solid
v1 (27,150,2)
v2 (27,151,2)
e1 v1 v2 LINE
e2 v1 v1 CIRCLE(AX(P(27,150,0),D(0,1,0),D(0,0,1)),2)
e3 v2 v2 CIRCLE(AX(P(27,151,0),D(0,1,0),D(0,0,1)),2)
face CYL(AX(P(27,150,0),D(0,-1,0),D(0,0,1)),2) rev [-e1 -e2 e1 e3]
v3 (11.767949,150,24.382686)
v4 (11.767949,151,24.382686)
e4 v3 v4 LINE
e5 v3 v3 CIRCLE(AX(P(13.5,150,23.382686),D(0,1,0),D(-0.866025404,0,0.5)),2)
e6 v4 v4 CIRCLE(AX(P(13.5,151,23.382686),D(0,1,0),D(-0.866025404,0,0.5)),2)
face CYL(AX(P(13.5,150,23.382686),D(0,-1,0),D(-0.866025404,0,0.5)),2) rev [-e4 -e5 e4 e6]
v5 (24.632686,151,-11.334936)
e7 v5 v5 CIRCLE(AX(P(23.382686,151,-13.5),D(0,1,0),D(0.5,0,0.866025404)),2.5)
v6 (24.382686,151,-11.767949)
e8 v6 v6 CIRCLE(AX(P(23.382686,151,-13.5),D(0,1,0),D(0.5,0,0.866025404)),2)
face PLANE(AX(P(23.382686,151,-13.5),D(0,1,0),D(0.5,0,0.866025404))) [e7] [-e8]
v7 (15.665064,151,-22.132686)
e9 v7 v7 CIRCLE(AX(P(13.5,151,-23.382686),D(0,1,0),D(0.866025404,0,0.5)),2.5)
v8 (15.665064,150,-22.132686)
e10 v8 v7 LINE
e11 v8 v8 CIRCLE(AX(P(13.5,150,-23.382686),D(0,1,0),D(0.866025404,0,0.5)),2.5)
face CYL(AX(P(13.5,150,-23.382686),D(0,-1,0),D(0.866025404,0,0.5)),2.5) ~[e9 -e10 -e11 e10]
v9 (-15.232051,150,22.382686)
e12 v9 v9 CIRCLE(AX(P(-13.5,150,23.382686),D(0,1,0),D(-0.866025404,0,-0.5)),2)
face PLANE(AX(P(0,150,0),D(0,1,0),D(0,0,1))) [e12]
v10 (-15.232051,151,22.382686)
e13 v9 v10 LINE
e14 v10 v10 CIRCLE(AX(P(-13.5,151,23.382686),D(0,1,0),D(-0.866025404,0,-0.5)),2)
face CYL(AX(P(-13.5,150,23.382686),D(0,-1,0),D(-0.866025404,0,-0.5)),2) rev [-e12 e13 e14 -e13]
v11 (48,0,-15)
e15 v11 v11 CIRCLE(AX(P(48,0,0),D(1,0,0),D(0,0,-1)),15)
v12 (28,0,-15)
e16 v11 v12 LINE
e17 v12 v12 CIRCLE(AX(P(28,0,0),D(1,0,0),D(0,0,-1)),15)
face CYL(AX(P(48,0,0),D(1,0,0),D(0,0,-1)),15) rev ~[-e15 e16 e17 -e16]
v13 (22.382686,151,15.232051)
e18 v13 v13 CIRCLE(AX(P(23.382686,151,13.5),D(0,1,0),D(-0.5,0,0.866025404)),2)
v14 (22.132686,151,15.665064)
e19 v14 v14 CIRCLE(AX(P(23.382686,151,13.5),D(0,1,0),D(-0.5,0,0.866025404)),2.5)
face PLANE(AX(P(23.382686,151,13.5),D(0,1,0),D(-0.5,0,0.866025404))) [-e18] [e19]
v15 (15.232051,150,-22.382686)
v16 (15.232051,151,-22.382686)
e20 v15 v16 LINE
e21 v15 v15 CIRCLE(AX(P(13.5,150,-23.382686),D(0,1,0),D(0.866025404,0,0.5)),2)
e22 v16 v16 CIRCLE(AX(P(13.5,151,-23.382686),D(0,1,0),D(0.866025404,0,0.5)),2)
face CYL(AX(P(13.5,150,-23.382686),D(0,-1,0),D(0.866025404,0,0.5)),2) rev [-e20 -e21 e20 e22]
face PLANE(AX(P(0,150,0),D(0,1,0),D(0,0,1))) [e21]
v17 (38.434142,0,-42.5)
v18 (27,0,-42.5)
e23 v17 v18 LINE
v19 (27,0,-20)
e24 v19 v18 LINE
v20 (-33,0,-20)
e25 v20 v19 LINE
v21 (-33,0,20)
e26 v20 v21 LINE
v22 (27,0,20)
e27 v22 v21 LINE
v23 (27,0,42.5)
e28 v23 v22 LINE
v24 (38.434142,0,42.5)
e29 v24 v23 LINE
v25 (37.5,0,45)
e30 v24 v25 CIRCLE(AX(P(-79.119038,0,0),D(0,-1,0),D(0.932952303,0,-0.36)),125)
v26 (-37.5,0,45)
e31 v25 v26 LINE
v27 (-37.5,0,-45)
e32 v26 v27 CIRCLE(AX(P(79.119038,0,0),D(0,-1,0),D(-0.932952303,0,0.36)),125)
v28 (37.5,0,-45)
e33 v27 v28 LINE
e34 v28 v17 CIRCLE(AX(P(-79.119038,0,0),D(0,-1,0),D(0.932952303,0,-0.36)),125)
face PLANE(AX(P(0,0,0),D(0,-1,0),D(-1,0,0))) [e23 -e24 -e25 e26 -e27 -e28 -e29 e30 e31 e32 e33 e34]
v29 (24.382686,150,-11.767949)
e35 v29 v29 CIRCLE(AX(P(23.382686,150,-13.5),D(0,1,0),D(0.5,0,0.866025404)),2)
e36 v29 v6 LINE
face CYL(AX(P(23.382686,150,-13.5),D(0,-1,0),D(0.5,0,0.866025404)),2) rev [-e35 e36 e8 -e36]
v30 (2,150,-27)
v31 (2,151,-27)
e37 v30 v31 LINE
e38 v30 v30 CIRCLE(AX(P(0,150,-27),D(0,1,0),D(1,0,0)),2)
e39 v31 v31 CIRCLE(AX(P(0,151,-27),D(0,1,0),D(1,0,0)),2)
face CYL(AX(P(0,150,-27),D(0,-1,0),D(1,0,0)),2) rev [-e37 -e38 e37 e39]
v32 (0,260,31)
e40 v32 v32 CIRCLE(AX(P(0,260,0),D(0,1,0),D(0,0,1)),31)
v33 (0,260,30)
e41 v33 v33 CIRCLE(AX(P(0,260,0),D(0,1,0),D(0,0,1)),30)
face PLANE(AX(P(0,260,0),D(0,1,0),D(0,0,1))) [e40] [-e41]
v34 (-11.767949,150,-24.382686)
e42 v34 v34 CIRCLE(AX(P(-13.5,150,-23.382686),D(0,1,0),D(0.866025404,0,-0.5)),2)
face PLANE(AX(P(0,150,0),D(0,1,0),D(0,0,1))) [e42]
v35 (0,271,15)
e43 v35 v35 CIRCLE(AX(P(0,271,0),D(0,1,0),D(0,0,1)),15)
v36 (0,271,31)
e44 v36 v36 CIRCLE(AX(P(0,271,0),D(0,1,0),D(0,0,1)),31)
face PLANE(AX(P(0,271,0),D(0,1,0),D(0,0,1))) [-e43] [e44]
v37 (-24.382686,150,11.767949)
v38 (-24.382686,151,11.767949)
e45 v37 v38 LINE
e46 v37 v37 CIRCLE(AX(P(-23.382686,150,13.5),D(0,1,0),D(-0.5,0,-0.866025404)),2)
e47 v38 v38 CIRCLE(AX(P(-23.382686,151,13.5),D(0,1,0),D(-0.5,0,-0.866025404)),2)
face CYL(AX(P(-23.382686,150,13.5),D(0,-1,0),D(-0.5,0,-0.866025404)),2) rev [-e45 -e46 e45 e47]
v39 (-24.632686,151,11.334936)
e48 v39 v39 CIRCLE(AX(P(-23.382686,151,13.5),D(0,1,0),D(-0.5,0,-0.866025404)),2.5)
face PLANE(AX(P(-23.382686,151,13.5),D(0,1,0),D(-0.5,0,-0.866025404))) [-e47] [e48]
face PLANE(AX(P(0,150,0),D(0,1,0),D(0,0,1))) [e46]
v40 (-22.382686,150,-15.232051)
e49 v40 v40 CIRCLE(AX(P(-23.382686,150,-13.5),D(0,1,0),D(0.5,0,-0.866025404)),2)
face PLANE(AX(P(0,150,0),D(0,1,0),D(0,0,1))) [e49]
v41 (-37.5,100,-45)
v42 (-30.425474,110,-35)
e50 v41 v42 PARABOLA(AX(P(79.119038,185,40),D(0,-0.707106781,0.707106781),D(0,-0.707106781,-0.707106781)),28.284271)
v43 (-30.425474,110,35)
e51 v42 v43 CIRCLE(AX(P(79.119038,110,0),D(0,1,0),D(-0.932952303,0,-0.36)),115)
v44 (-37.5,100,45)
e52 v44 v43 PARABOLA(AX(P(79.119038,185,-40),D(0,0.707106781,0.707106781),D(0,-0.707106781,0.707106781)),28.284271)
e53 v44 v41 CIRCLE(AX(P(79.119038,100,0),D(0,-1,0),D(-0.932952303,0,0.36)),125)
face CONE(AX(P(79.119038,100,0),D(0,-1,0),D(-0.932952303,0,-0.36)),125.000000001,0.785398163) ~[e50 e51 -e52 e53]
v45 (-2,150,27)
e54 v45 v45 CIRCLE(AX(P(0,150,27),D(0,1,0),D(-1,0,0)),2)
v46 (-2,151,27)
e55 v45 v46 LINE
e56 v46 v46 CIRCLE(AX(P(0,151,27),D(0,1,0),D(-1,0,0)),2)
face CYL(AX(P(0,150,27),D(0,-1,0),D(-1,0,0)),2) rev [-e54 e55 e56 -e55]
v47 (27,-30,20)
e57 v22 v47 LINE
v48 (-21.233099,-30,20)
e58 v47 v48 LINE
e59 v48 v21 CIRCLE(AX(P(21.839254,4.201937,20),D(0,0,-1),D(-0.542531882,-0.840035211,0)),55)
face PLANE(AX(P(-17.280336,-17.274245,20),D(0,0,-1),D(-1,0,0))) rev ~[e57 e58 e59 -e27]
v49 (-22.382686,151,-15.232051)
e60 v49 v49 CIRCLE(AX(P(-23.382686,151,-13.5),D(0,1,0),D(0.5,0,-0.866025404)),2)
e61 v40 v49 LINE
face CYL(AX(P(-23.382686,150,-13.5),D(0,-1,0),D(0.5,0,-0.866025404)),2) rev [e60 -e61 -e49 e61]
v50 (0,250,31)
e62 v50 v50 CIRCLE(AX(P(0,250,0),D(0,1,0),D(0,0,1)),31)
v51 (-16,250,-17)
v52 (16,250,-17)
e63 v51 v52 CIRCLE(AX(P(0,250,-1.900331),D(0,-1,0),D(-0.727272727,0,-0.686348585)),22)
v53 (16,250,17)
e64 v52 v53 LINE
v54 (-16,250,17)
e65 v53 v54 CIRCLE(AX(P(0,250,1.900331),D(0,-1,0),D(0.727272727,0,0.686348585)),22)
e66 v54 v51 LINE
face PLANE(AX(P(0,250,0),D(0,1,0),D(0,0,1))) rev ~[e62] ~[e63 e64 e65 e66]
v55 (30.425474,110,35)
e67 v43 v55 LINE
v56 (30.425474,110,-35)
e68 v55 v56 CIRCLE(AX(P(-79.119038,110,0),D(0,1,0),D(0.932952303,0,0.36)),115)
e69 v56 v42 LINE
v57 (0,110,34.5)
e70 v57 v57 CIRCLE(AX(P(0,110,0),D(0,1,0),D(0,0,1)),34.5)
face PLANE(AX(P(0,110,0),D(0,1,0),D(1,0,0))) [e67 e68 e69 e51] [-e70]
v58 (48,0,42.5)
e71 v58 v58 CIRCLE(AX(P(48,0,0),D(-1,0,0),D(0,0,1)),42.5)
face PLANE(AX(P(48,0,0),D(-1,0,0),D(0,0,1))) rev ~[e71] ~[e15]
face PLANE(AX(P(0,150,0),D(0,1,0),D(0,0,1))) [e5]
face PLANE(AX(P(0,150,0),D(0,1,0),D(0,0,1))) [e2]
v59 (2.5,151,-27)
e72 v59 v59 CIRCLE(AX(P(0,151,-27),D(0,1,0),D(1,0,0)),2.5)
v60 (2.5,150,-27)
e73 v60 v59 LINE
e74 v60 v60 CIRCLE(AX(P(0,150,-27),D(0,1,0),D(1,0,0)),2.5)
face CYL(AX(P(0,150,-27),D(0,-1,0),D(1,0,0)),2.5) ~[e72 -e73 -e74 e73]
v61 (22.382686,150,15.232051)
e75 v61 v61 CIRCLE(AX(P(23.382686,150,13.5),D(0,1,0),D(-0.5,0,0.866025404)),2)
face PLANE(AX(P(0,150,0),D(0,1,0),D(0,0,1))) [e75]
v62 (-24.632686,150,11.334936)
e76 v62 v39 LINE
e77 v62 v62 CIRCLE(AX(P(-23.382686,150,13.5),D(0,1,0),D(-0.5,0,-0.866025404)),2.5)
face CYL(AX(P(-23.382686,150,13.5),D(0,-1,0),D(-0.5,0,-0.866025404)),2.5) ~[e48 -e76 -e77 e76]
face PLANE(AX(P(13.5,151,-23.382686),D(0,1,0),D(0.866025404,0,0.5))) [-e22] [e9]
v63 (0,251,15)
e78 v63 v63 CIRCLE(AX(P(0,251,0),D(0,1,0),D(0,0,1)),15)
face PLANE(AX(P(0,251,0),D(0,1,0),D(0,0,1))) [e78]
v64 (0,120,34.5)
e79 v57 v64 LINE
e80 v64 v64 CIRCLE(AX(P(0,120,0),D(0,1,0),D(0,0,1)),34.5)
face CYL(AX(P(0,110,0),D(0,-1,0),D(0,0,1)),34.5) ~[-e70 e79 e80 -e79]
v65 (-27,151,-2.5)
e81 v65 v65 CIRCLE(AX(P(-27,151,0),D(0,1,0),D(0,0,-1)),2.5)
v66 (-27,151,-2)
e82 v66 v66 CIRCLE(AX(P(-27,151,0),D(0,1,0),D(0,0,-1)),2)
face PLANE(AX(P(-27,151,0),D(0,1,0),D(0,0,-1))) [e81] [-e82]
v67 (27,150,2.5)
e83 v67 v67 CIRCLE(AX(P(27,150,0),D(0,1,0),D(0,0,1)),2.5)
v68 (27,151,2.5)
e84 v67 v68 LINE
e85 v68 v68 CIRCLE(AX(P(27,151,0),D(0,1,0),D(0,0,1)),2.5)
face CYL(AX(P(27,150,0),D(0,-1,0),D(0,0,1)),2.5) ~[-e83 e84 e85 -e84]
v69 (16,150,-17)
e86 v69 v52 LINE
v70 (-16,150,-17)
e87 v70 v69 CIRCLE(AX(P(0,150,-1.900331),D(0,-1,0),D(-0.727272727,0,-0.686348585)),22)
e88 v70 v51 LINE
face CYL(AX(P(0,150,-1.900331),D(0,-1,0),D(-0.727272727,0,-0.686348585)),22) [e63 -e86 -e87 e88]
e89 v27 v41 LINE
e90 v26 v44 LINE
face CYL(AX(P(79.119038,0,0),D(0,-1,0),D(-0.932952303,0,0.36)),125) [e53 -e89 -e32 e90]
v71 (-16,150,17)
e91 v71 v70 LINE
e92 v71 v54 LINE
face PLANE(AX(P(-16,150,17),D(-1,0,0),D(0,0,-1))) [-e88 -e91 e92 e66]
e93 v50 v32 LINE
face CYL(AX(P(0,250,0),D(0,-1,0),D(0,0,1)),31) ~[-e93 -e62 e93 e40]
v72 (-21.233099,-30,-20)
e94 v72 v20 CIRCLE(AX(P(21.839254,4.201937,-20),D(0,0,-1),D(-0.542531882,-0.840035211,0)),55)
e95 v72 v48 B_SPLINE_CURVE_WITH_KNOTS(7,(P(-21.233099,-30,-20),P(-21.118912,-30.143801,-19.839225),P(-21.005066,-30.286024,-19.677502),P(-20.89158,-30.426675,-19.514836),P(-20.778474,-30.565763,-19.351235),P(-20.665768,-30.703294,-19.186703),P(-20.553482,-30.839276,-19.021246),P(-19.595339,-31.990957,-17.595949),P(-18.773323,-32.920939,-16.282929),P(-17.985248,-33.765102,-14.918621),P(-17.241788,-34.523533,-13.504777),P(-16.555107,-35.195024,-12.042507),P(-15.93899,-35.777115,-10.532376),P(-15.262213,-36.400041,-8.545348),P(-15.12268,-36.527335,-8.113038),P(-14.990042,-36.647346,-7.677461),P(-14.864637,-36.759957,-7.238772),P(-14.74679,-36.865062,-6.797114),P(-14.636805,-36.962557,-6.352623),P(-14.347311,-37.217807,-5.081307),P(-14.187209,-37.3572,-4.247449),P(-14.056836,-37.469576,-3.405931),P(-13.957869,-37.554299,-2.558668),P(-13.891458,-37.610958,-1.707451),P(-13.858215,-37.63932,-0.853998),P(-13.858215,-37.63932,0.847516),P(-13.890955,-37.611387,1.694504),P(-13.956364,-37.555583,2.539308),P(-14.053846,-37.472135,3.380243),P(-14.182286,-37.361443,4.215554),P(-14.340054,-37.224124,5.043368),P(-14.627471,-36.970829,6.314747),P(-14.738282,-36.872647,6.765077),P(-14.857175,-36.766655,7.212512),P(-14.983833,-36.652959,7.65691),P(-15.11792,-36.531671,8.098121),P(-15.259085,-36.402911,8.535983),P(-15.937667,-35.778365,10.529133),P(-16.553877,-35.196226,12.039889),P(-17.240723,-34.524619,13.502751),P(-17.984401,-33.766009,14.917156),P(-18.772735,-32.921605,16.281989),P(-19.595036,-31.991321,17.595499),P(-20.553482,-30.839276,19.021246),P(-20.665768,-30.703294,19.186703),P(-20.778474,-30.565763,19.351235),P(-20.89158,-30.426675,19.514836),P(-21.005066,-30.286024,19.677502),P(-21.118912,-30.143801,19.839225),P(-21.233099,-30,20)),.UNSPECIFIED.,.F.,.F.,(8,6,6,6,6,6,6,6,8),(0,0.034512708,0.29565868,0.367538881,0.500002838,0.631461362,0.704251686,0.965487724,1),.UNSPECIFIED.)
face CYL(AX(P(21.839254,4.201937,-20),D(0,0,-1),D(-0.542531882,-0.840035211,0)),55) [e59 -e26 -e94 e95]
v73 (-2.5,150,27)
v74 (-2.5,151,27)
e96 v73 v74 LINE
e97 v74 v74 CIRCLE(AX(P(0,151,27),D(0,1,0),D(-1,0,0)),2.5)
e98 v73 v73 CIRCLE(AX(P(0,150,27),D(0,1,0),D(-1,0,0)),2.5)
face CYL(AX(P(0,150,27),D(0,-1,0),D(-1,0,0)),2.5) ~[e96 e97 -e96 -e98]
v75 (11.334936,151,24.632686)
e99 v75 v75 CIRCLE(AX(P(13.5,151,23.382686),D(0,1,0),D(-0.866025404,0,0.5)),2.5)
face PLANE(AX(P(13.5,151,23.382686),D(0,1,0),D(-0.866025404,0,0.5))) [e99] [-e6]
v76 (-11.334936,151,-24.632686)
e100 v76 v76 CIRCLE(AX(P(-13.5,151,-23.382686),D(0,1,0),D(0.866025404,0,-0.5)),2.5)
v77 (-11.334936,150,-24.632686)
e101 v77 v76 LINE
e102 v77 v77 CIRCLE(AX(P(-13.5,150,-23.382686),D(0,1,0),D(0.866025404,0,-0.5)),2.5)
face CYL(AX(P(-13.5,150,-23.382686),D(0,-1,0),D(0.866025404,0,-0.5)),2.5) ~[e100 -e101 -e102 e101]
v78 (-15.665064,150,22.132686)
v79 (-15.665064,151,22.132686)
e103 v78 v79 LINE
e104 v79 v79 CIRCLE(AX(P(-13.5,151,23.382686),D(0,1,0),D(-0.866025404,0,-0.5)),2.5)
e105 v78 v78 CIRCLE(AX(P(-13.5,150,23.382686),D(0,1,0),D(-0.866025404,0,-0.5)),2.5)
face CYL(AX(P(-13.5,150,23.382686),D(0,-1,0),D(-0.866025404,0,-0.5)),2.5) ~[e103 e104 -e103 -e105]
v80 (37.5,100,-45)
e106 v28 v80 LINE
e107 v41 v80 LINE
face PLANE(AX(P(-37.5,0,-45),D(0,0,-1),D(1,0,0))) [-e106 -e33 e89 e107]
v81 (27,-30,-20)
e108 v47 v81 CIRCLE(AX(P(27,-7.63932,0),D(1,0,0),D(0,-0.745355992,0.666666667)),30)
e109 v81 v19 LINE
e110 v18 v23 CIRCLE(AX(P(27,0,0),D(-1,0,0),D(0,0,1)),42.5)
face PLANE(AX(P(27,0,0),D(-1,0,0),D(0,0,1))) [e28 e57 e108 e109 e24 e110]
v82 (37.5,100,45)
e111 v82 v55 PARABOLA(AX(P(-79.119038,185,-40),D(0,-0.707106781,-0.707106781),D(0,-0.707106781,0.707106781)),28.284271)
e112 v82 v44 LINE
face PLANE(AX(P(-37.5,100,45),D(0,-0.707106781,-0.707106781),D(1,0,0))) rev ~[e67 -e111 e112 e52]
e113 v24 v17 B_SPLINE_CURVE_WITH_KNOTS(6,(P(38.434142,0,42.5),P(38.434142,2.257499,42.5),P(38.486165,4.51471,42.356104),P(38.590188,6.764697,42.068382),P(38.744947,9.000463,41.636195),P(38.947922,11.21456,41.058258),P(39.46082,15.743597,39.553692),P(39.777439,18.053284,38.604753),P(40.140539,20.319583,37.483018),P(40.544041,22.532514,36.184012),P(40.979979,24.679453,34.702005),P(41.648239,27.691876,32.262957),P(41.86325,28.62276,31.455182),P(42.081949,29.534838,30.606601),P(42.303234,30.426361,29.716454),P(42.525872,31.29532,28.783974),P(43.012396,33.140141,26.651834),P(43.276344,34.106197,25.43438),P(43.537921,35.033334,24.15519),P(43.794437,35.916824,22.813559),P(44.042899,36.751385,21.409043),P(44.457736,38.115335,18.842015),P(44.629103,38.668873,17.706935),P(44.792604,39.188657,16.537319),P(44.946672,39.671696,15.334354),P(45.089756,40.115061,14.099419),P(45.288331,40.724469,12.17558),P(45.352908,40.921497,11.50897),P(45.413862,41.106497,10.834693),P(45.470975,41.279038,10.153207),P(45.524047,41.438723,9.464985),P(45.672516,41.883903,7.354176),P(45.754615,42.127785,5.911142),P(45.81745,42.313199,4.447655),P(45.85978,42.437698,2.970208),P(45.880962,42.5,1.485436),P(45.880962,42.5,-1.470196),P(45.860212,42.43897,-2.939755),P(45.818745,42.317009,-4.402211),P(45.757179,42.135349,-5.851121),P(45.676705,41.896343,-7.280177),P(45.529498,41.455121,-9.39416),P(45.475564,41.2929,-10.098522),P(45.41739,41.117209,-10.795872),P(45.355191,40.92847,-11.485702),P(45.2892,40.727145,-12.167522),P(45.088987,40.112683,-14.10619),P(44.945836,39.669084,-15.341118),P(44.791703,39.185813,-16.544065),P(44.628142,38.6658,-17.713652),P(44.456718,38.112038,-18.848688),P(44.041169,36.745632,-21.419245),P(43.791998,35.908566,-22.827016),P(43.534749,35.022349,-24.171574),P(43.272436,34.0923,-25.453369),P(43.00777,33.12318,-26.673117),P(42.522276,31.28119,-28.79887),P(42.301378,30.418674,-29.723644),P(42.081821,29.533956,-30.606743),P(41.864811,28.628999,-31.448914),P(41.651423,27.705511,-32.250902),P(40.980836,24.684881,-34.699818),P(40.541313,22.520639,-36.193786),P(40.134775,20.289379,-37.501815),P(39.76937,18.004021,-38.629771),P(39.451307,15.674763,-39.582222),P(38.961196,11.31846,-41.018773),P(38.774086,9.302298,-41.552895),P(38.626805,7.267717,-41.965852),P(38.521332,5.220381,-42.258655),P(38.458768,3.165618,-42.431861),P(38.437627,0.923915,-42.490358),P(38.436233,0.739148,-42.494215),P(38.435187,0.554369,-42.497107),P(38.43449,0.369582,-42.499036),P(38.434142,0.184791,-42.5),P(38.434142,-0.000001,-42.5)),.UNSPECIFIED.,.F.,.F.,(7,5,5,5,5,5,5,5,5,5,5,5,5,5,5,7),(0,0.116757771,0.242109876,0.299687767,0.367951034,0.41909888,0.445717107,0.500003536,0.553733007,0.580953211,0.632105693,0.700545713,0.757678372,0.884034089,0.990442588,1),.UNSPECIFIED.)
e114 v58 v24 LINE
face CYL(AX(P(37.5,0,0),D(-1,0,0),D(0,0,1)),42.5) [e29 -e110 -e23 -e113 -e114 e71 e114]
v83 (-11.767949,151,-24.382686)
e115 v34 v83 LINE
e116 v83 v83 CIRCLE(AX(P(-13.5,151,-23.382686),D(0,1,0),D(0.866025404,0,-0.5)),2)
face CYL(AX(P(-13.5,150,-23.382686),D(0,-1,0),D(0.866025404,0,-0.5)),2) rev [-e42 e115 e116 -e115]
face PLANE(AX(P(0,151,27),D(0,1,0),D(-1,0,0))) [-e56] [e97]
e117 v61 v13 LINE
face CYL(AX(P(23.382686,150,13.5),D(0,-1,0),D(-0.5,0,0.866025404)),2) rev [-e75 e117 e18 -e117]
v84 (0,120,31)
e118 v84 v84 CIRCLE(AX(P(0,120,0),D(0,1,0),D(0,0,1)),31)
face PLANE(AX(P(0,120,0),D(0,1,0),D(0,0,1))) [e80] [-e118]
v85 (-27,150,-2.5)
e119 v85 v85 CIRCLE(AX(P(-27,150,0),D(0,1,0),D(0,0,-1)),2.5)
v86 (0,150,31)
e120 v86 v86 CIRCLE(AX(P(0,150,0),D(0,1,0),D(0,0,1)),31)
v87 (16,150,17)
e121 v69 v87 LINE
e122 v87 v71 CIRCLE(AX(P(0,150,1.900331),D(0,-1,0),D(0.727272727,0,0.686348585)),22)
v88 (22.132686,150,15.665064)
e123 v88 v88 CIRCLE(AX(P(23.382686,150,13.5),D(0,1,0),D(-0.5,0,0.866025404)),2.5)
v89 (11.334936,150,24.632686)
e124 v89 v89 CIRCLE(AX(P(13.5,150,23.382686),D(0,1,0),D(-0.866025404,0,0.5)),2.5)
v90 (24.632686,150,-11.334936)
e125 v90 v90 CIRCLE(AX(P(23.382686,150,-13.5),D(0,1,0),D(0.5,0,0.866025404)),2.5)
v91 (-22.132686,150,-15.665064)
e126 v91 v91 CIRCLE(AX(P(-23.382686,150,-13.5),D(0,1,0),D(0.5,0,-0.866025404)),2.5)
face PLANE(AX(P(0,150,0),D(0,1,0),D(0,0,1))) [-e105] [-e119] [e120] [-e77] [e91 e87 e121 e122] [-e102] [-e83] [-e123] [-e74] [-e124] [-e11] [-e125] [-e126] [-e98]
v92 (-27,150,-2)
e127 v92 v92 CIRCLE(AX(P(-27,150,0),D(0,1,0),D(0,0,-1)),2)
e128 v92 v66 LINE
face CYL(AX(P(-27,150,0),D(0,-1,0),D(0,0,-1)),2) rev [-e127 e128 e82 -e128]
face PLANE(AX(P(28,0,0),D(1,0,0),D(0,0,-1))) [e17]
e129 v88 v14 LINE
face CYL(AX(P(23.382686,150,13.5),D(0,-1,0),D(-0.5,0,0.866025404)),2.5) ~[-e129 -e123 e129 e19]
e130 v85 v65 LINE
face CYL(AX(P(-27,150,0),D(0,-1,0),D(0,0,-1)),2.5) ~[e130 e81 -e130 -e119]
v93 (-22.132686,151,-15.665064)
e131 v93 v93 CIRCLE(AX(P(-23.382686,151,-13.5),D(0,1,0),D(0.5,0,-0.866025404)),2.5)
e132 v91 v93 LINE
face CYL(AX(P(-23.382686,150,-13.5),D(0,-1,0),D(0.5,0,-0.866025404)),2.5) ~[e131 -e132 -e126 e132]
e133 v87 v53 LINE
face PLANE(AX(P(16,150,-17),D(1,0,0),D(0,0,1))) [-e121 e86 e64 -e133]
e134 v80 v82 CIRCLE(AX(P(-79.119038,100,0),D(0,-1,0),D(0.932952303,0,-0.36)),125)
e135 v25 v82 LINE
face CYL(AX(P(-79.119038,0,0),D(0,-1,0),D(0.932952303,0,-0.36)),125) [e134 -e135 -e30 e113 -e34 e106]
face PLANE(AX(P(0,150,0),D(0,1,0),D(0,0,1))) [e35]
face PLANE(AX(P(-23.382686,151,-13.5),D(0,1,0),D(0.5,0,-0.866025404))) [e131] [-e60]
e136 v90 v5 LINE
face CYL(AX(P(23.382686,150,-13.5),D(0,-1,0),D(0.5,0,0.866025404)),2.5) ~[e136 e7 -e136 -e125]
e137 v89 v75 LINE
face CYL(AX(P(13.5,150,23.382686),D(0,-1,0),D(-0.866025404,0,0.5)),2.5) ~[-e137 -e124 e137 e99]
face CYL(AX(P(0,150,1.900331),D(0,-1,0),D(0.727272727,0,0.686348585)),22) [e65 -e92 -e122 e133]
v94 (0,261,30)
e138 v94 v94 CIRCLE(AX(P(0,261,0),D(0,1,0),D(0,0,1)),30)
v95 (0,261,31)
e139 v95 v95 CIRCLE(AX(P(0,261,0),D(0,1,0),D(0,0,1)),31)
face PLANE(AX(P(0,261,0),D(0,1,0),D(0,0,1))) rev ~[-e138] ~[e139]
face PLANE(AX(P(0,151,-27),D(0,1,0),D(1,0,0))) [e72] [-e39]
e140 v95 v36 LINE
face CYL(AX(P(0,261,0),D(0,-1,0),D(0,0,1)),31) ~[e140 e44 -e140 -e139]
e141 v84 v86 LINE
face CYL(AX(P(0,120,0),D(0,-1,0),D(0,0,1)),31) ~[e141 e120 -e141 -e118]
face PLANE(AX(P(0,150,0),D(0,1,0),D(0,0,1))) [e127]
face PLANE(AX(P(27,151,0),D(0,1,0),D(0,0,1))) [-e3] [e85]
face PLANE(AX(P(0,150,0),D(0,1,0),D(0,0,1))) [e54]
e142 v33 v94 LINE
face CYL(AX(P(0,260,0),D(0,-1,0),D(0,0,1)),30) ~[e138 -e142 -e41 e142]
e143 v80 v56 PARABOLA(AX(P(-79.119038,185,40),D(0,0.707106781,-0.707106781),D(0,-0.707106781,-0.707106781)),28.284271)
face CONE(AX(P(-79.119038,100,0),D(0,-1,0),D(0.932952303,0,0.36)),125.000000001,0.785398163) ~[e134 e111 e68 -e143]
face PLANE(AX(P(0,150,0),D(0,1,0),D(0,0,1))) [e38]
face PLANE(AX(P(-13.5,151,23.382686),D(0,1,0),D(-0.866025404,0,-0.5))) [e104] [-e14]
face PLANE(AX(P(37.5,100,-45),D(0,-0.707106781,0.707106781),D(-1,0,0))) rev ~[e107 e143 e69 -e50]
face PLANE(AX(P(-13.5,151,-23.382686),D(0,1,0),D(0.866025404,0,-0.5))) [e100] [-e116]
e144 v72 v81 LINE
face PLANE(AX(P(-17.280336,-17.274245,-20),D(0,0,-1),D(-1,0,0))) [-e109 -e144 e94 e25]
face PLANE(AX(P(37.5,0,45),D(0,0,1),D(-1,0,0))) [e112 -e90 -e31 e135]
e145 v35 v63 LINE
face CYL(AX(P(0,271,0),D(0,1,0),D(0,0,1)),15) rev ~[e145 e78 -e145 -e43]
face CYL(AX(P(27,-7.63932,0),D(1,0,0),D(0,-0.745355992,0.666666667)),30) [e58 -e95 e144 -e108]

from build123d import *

# Parameters (mm, degrees)
BOSS_EXTRUDE1_DEPTH  = 100
BOSS_EXTRUDE2_DEPTH  = 10
BOSS_EXTRUDE2_DRAFT  = 45
SKETCH3_R            = 34.5
BOSS_EXTRUDE3_DEPTH  = 10
SKETCH4_R            = 31
BOSS_EXTRUDE4_DEPTH  = 30
SKETCH5_R            = 2.5
SKETCH5_R_2          = 2
BOSS_EXTRUDE5_DEPTH  = 1
CIRPATTERN1_COUNT    = 12
BOSS_EXTRUDE6_DEPTH  = 100
SKETCH7_R            = 31
BOSS_EXTRUDE7_DEPTH  = 10
SKETCH8_R            = 30
BOSS_EXTRUDE8_DEPTH  = 1
SKETCH9_R            = 31
BOSS_EXTRUDE9_DEPTH  = 10
SKETCH11_R           = 42.5
BOSS_EXTRUDE10_DEPTH = 10.5
BOSS_EXTRUDE11_DEPTH = 35
BOSS_EXTRUDE12_DEPTH = 40
CUT_EXTRUDE1_DEPTH   = 40
SKETCH16_R           = 15
CUT_EXTRUDE2_DEPTH   = 20
SKETCH17_R           = 15
CUT_EXTRUDE3_DEPTH   = 20


with BuildPart() as part:
    # Sketch1 → Boss-Extrude1 (new body)
    with BuildSketch(Plane(origin=(0, 0, 0), x_dir=(1, 0, 0), z_dir=(0, 1, 0))):
        with BuildLine():
            Line((-37.5, 45), (37.5, 45))
            ThreePointArc((37.5, 45), (45.880962103, 0), (37.5, -45))
            Line((37.5, -45), (-37.5, -45))
            ThreePointArc((-37.5, -45), (-45.880962103, 0), (-37.5, 45))
        make_face()
    extrude(amount=BOSS_EXTRUDE1_DEPTH)


with BuildPart() as boss_extrude2_tool:
    # Sketch2 → Boss-Extrude2 (with draft: the straight prism first)
    with BuildSketch(Plane(origin=(0, 100, 0), x_dir=(1, 0, 0), z_dir=(0, 1, 0))):
        with BuildLine():
            Line((37.5, 45), (-37.5, 45))
            ThreePointArc((-37.5, 45), (-45.880962103, 0), (-37.5, -45))
            Line((-37.5, -45), (37.5, -45))
            ThreePointArc((37.5, -45), (45.880962103, 0), (37.5, 45))
        make_face()
    extrude(amount=BOSS_EXTRUDE2_DEPTH)
    # Boss-Extrude2: the draft: its side faces are tilted about the plane it starts from
    boss_extrude2_sides = [boss_extrude2_tool.faces().sort_by_distance(p)[0] for p in [
        (0, 105, -45),
        (-45.880962103, 105, 0),
        (0, 105, 45),
        (45.880962103, 105, 0),
    ]]
    draft(boss_extrude2_sides, Plane(origin=(0, 100, 0), x_dir=(1, 0, 0), z_dir=(0, 1, 0)), BOSS_EXTRUDE2_DRAFT)


with BuildPart() as part_1:
    add(part.part)

    # Boss-Extrude2: add boss_extrude2_tool
    add(boss_extrude2_tool.part)

    # Sketch3 → Boss-Extrude3 (add)
    with BuildSketch(Plane(origin=(0, 110, 0), x_dir=(1, 0, 0), z_dir=(0, 1, 0))):
        with Locations(Location((0, 0, 0), (0, 0, 270))):
            Circle(SKETCH3_R)
    extrude(amount=BOSS_EXTRUDE3_DEPTH)

    # Sketch4 → Boss-Extrude4 (add)
    with BuildSketch(Plane(origin=(0, 120, 0), x_dir=(1, 0, 0), z_dir=(0, 1, 0))):
        with Locations(Location((0, 0, 0), (0, 0, 270))):
            Circle(SKETCH4_R)
    extrude(amount=BOSS_EXTRUDE4_DEPTH)

    # Sketch5 → Boss-Extrude5 (add)
    with BuildSketch(Plane(origin=(0, 150, 0), x_dir=(1, 0, 0), z_dir=(0, 1, 0))):
        with Locations(Location((27, 0, 0), (0, 0, 270))):
            Circle(SKETCH5_R)
        with Locations(Location((27, 0, 0), (0, 0, 270))):
            Circle(SKETCH5_R_2, mode=Mode.SUBTRACT)
    boss_extrude5 = extrude(amount=BOSS_EXTRUDE5_DEPTH)

    # CirPattern1: Boss-Extrude5 ×12 about axis
    cirpattern1_axis = Axis((0, 0, 0), (0, 1, 0))
    for i in range(1, CIRPATTERN1_COUNT):
        add(boss_extrude5.rotate(cirpattern1_axis, i * 360 / CIRPATTERN1_COUNT))

    # Sketch6 → Boss-Extrude6 (add)
    with BuildSketch(Plane(origin=(0, 150, 0), x_dir=(1, 0, 0), z_dir=(0, 1, 0))):
        with BuildLine():
            Line((16, 17), (16, -17))
            ThreePointArc((16, -17), (0, -23.900331129), (-16, -17))
            Line((-16, -17), (-16, 17))
            ThreePointArc((-16, 17), (0, 23.900331129), (16, 17))
        make_face()
    extrude(amount=BOSS_EXTRUDE6_DEPTH)

    # Sketch7 → Boss-Extrude7 (add)
    with BuildSketch(Plane(origin=(0, 250, 0), x_dir=(1, 0, 0), z_dir=(0, 1, 0))):
        with Locations(Location((0, 0, 0), (0, 0, 270))):
            Circle(SKETCH7_R)
    extrude(amount=BOSS_EXTRUDE7_DEPTH)

    # Sketch8 → Boss-Extrude8 (add)
    with BuildSketch(Plane(origin=(0, 260, 0), x_dir=(1, 0, 0), z_dir=(0, 1, 0))):
        with Locations(Location((0, 0, 0), (0, 0, 270))):
            Circle(SKETCH8_R)
    extrude(amount=BOSS_EXTRUDE8_DEPTH)

    # Sketch9 → Boss-Extrude9 (add)
    with BuildSketch(Plane(origin=(0, 261, 0), x_dir=(1, 0, 0), z_dir=(0, 1, 0))):
        with Locations(Location((0, 0, 0), (0, 0, 270))):
            Circle(SKETCH9_R)
    extrude(amount=BOSS_EXTRUDE9_DEPTH)

    # Sketch11 → Boss-Extrude10 (add, symmetric)
    with BuildSketch(Plane.ZY.offset(-37.5)):
        Circle(SKETCH11_R)
    extrude(amount=BOSS_EXTRUDE10_DEPTH, both=True)

    # Sketch12 → Boss-Extrude11 (add)
    with BuildSketch(Plane.ZY.offset(-27)):
        with BuildLine():
            Line((-20, 0), (20, 0))
            Line((20, 0), (20, -30))
            ThreePointArc((20, -30), (0, -37.639320225), (-20, -30))
            Line((-20, -30), (-20, 0))
        make_face()
    extrude(amount=BOSS_EXTRUDE11_DEPTH)

    # Sketch14 → Boss-Extrude12 (add)
    with BuildSketch(Plane(origin=(0, 0, -20), x_dir=(-1, 0, 0), z_dir=(0, 0, -1))):
        with BuildLine():
            Line((8, 0), (8, -42))
            ThreePointArc((8, -42), (25.421855105, -23.929675658), (33, 0))
            Line((33, 0), (8, 0))
        make_face()
    extrude(amount=-BOSS_EXTRUDE12_DEPTH)

    # Sketch15 → Cut-Extrude1 (cut)
    with BuildSketch(Plane(origin=(-8, 0, 0), x_dir=(0, 0, -1), z_dir=(1, 0, 0))):
        with BuildLine():
            Line((-20, -30), (-20, -42))
            Line((-20, -42), (20, -42))
            Line((20, -42), (20, -30))
            ThreePointArc((20, -30), (0, -37.639320225), (-20, -30))
        make_face()
    extrude(amount=-CUT_EXTRUDE1_DEPTH, mode=Mode.SUBTRACT)

    # Sketch16 → Cut-Extrude2 (cut)
    with BuildSketch(Plane(origin=(0, 271, 0), x_dir=(1, 0, 0), z_dir=(0, 1, 0))):
        with Locations(Location((0, 0, 0), (0, 0, 270))):
            Circle(SKETCH16_R)
    extrude(amount=-CUT_EXTRUDE2_DEPTH, mode=Mode.SUBTRACT)

    # Sketch17 → Cut-Extrude3 (cut)
    with BuildSketch(Plane(origin=(48, 0, 0), x_dir=(0, 0, -1), z_dir=(1, 0, 0))):
        Circle(SKETCH17_R)
    extrude(amount=-CUT_EXTRUDE3_DEPTH, mode=Mode.SUBTRACT)


solid = part_1.part
